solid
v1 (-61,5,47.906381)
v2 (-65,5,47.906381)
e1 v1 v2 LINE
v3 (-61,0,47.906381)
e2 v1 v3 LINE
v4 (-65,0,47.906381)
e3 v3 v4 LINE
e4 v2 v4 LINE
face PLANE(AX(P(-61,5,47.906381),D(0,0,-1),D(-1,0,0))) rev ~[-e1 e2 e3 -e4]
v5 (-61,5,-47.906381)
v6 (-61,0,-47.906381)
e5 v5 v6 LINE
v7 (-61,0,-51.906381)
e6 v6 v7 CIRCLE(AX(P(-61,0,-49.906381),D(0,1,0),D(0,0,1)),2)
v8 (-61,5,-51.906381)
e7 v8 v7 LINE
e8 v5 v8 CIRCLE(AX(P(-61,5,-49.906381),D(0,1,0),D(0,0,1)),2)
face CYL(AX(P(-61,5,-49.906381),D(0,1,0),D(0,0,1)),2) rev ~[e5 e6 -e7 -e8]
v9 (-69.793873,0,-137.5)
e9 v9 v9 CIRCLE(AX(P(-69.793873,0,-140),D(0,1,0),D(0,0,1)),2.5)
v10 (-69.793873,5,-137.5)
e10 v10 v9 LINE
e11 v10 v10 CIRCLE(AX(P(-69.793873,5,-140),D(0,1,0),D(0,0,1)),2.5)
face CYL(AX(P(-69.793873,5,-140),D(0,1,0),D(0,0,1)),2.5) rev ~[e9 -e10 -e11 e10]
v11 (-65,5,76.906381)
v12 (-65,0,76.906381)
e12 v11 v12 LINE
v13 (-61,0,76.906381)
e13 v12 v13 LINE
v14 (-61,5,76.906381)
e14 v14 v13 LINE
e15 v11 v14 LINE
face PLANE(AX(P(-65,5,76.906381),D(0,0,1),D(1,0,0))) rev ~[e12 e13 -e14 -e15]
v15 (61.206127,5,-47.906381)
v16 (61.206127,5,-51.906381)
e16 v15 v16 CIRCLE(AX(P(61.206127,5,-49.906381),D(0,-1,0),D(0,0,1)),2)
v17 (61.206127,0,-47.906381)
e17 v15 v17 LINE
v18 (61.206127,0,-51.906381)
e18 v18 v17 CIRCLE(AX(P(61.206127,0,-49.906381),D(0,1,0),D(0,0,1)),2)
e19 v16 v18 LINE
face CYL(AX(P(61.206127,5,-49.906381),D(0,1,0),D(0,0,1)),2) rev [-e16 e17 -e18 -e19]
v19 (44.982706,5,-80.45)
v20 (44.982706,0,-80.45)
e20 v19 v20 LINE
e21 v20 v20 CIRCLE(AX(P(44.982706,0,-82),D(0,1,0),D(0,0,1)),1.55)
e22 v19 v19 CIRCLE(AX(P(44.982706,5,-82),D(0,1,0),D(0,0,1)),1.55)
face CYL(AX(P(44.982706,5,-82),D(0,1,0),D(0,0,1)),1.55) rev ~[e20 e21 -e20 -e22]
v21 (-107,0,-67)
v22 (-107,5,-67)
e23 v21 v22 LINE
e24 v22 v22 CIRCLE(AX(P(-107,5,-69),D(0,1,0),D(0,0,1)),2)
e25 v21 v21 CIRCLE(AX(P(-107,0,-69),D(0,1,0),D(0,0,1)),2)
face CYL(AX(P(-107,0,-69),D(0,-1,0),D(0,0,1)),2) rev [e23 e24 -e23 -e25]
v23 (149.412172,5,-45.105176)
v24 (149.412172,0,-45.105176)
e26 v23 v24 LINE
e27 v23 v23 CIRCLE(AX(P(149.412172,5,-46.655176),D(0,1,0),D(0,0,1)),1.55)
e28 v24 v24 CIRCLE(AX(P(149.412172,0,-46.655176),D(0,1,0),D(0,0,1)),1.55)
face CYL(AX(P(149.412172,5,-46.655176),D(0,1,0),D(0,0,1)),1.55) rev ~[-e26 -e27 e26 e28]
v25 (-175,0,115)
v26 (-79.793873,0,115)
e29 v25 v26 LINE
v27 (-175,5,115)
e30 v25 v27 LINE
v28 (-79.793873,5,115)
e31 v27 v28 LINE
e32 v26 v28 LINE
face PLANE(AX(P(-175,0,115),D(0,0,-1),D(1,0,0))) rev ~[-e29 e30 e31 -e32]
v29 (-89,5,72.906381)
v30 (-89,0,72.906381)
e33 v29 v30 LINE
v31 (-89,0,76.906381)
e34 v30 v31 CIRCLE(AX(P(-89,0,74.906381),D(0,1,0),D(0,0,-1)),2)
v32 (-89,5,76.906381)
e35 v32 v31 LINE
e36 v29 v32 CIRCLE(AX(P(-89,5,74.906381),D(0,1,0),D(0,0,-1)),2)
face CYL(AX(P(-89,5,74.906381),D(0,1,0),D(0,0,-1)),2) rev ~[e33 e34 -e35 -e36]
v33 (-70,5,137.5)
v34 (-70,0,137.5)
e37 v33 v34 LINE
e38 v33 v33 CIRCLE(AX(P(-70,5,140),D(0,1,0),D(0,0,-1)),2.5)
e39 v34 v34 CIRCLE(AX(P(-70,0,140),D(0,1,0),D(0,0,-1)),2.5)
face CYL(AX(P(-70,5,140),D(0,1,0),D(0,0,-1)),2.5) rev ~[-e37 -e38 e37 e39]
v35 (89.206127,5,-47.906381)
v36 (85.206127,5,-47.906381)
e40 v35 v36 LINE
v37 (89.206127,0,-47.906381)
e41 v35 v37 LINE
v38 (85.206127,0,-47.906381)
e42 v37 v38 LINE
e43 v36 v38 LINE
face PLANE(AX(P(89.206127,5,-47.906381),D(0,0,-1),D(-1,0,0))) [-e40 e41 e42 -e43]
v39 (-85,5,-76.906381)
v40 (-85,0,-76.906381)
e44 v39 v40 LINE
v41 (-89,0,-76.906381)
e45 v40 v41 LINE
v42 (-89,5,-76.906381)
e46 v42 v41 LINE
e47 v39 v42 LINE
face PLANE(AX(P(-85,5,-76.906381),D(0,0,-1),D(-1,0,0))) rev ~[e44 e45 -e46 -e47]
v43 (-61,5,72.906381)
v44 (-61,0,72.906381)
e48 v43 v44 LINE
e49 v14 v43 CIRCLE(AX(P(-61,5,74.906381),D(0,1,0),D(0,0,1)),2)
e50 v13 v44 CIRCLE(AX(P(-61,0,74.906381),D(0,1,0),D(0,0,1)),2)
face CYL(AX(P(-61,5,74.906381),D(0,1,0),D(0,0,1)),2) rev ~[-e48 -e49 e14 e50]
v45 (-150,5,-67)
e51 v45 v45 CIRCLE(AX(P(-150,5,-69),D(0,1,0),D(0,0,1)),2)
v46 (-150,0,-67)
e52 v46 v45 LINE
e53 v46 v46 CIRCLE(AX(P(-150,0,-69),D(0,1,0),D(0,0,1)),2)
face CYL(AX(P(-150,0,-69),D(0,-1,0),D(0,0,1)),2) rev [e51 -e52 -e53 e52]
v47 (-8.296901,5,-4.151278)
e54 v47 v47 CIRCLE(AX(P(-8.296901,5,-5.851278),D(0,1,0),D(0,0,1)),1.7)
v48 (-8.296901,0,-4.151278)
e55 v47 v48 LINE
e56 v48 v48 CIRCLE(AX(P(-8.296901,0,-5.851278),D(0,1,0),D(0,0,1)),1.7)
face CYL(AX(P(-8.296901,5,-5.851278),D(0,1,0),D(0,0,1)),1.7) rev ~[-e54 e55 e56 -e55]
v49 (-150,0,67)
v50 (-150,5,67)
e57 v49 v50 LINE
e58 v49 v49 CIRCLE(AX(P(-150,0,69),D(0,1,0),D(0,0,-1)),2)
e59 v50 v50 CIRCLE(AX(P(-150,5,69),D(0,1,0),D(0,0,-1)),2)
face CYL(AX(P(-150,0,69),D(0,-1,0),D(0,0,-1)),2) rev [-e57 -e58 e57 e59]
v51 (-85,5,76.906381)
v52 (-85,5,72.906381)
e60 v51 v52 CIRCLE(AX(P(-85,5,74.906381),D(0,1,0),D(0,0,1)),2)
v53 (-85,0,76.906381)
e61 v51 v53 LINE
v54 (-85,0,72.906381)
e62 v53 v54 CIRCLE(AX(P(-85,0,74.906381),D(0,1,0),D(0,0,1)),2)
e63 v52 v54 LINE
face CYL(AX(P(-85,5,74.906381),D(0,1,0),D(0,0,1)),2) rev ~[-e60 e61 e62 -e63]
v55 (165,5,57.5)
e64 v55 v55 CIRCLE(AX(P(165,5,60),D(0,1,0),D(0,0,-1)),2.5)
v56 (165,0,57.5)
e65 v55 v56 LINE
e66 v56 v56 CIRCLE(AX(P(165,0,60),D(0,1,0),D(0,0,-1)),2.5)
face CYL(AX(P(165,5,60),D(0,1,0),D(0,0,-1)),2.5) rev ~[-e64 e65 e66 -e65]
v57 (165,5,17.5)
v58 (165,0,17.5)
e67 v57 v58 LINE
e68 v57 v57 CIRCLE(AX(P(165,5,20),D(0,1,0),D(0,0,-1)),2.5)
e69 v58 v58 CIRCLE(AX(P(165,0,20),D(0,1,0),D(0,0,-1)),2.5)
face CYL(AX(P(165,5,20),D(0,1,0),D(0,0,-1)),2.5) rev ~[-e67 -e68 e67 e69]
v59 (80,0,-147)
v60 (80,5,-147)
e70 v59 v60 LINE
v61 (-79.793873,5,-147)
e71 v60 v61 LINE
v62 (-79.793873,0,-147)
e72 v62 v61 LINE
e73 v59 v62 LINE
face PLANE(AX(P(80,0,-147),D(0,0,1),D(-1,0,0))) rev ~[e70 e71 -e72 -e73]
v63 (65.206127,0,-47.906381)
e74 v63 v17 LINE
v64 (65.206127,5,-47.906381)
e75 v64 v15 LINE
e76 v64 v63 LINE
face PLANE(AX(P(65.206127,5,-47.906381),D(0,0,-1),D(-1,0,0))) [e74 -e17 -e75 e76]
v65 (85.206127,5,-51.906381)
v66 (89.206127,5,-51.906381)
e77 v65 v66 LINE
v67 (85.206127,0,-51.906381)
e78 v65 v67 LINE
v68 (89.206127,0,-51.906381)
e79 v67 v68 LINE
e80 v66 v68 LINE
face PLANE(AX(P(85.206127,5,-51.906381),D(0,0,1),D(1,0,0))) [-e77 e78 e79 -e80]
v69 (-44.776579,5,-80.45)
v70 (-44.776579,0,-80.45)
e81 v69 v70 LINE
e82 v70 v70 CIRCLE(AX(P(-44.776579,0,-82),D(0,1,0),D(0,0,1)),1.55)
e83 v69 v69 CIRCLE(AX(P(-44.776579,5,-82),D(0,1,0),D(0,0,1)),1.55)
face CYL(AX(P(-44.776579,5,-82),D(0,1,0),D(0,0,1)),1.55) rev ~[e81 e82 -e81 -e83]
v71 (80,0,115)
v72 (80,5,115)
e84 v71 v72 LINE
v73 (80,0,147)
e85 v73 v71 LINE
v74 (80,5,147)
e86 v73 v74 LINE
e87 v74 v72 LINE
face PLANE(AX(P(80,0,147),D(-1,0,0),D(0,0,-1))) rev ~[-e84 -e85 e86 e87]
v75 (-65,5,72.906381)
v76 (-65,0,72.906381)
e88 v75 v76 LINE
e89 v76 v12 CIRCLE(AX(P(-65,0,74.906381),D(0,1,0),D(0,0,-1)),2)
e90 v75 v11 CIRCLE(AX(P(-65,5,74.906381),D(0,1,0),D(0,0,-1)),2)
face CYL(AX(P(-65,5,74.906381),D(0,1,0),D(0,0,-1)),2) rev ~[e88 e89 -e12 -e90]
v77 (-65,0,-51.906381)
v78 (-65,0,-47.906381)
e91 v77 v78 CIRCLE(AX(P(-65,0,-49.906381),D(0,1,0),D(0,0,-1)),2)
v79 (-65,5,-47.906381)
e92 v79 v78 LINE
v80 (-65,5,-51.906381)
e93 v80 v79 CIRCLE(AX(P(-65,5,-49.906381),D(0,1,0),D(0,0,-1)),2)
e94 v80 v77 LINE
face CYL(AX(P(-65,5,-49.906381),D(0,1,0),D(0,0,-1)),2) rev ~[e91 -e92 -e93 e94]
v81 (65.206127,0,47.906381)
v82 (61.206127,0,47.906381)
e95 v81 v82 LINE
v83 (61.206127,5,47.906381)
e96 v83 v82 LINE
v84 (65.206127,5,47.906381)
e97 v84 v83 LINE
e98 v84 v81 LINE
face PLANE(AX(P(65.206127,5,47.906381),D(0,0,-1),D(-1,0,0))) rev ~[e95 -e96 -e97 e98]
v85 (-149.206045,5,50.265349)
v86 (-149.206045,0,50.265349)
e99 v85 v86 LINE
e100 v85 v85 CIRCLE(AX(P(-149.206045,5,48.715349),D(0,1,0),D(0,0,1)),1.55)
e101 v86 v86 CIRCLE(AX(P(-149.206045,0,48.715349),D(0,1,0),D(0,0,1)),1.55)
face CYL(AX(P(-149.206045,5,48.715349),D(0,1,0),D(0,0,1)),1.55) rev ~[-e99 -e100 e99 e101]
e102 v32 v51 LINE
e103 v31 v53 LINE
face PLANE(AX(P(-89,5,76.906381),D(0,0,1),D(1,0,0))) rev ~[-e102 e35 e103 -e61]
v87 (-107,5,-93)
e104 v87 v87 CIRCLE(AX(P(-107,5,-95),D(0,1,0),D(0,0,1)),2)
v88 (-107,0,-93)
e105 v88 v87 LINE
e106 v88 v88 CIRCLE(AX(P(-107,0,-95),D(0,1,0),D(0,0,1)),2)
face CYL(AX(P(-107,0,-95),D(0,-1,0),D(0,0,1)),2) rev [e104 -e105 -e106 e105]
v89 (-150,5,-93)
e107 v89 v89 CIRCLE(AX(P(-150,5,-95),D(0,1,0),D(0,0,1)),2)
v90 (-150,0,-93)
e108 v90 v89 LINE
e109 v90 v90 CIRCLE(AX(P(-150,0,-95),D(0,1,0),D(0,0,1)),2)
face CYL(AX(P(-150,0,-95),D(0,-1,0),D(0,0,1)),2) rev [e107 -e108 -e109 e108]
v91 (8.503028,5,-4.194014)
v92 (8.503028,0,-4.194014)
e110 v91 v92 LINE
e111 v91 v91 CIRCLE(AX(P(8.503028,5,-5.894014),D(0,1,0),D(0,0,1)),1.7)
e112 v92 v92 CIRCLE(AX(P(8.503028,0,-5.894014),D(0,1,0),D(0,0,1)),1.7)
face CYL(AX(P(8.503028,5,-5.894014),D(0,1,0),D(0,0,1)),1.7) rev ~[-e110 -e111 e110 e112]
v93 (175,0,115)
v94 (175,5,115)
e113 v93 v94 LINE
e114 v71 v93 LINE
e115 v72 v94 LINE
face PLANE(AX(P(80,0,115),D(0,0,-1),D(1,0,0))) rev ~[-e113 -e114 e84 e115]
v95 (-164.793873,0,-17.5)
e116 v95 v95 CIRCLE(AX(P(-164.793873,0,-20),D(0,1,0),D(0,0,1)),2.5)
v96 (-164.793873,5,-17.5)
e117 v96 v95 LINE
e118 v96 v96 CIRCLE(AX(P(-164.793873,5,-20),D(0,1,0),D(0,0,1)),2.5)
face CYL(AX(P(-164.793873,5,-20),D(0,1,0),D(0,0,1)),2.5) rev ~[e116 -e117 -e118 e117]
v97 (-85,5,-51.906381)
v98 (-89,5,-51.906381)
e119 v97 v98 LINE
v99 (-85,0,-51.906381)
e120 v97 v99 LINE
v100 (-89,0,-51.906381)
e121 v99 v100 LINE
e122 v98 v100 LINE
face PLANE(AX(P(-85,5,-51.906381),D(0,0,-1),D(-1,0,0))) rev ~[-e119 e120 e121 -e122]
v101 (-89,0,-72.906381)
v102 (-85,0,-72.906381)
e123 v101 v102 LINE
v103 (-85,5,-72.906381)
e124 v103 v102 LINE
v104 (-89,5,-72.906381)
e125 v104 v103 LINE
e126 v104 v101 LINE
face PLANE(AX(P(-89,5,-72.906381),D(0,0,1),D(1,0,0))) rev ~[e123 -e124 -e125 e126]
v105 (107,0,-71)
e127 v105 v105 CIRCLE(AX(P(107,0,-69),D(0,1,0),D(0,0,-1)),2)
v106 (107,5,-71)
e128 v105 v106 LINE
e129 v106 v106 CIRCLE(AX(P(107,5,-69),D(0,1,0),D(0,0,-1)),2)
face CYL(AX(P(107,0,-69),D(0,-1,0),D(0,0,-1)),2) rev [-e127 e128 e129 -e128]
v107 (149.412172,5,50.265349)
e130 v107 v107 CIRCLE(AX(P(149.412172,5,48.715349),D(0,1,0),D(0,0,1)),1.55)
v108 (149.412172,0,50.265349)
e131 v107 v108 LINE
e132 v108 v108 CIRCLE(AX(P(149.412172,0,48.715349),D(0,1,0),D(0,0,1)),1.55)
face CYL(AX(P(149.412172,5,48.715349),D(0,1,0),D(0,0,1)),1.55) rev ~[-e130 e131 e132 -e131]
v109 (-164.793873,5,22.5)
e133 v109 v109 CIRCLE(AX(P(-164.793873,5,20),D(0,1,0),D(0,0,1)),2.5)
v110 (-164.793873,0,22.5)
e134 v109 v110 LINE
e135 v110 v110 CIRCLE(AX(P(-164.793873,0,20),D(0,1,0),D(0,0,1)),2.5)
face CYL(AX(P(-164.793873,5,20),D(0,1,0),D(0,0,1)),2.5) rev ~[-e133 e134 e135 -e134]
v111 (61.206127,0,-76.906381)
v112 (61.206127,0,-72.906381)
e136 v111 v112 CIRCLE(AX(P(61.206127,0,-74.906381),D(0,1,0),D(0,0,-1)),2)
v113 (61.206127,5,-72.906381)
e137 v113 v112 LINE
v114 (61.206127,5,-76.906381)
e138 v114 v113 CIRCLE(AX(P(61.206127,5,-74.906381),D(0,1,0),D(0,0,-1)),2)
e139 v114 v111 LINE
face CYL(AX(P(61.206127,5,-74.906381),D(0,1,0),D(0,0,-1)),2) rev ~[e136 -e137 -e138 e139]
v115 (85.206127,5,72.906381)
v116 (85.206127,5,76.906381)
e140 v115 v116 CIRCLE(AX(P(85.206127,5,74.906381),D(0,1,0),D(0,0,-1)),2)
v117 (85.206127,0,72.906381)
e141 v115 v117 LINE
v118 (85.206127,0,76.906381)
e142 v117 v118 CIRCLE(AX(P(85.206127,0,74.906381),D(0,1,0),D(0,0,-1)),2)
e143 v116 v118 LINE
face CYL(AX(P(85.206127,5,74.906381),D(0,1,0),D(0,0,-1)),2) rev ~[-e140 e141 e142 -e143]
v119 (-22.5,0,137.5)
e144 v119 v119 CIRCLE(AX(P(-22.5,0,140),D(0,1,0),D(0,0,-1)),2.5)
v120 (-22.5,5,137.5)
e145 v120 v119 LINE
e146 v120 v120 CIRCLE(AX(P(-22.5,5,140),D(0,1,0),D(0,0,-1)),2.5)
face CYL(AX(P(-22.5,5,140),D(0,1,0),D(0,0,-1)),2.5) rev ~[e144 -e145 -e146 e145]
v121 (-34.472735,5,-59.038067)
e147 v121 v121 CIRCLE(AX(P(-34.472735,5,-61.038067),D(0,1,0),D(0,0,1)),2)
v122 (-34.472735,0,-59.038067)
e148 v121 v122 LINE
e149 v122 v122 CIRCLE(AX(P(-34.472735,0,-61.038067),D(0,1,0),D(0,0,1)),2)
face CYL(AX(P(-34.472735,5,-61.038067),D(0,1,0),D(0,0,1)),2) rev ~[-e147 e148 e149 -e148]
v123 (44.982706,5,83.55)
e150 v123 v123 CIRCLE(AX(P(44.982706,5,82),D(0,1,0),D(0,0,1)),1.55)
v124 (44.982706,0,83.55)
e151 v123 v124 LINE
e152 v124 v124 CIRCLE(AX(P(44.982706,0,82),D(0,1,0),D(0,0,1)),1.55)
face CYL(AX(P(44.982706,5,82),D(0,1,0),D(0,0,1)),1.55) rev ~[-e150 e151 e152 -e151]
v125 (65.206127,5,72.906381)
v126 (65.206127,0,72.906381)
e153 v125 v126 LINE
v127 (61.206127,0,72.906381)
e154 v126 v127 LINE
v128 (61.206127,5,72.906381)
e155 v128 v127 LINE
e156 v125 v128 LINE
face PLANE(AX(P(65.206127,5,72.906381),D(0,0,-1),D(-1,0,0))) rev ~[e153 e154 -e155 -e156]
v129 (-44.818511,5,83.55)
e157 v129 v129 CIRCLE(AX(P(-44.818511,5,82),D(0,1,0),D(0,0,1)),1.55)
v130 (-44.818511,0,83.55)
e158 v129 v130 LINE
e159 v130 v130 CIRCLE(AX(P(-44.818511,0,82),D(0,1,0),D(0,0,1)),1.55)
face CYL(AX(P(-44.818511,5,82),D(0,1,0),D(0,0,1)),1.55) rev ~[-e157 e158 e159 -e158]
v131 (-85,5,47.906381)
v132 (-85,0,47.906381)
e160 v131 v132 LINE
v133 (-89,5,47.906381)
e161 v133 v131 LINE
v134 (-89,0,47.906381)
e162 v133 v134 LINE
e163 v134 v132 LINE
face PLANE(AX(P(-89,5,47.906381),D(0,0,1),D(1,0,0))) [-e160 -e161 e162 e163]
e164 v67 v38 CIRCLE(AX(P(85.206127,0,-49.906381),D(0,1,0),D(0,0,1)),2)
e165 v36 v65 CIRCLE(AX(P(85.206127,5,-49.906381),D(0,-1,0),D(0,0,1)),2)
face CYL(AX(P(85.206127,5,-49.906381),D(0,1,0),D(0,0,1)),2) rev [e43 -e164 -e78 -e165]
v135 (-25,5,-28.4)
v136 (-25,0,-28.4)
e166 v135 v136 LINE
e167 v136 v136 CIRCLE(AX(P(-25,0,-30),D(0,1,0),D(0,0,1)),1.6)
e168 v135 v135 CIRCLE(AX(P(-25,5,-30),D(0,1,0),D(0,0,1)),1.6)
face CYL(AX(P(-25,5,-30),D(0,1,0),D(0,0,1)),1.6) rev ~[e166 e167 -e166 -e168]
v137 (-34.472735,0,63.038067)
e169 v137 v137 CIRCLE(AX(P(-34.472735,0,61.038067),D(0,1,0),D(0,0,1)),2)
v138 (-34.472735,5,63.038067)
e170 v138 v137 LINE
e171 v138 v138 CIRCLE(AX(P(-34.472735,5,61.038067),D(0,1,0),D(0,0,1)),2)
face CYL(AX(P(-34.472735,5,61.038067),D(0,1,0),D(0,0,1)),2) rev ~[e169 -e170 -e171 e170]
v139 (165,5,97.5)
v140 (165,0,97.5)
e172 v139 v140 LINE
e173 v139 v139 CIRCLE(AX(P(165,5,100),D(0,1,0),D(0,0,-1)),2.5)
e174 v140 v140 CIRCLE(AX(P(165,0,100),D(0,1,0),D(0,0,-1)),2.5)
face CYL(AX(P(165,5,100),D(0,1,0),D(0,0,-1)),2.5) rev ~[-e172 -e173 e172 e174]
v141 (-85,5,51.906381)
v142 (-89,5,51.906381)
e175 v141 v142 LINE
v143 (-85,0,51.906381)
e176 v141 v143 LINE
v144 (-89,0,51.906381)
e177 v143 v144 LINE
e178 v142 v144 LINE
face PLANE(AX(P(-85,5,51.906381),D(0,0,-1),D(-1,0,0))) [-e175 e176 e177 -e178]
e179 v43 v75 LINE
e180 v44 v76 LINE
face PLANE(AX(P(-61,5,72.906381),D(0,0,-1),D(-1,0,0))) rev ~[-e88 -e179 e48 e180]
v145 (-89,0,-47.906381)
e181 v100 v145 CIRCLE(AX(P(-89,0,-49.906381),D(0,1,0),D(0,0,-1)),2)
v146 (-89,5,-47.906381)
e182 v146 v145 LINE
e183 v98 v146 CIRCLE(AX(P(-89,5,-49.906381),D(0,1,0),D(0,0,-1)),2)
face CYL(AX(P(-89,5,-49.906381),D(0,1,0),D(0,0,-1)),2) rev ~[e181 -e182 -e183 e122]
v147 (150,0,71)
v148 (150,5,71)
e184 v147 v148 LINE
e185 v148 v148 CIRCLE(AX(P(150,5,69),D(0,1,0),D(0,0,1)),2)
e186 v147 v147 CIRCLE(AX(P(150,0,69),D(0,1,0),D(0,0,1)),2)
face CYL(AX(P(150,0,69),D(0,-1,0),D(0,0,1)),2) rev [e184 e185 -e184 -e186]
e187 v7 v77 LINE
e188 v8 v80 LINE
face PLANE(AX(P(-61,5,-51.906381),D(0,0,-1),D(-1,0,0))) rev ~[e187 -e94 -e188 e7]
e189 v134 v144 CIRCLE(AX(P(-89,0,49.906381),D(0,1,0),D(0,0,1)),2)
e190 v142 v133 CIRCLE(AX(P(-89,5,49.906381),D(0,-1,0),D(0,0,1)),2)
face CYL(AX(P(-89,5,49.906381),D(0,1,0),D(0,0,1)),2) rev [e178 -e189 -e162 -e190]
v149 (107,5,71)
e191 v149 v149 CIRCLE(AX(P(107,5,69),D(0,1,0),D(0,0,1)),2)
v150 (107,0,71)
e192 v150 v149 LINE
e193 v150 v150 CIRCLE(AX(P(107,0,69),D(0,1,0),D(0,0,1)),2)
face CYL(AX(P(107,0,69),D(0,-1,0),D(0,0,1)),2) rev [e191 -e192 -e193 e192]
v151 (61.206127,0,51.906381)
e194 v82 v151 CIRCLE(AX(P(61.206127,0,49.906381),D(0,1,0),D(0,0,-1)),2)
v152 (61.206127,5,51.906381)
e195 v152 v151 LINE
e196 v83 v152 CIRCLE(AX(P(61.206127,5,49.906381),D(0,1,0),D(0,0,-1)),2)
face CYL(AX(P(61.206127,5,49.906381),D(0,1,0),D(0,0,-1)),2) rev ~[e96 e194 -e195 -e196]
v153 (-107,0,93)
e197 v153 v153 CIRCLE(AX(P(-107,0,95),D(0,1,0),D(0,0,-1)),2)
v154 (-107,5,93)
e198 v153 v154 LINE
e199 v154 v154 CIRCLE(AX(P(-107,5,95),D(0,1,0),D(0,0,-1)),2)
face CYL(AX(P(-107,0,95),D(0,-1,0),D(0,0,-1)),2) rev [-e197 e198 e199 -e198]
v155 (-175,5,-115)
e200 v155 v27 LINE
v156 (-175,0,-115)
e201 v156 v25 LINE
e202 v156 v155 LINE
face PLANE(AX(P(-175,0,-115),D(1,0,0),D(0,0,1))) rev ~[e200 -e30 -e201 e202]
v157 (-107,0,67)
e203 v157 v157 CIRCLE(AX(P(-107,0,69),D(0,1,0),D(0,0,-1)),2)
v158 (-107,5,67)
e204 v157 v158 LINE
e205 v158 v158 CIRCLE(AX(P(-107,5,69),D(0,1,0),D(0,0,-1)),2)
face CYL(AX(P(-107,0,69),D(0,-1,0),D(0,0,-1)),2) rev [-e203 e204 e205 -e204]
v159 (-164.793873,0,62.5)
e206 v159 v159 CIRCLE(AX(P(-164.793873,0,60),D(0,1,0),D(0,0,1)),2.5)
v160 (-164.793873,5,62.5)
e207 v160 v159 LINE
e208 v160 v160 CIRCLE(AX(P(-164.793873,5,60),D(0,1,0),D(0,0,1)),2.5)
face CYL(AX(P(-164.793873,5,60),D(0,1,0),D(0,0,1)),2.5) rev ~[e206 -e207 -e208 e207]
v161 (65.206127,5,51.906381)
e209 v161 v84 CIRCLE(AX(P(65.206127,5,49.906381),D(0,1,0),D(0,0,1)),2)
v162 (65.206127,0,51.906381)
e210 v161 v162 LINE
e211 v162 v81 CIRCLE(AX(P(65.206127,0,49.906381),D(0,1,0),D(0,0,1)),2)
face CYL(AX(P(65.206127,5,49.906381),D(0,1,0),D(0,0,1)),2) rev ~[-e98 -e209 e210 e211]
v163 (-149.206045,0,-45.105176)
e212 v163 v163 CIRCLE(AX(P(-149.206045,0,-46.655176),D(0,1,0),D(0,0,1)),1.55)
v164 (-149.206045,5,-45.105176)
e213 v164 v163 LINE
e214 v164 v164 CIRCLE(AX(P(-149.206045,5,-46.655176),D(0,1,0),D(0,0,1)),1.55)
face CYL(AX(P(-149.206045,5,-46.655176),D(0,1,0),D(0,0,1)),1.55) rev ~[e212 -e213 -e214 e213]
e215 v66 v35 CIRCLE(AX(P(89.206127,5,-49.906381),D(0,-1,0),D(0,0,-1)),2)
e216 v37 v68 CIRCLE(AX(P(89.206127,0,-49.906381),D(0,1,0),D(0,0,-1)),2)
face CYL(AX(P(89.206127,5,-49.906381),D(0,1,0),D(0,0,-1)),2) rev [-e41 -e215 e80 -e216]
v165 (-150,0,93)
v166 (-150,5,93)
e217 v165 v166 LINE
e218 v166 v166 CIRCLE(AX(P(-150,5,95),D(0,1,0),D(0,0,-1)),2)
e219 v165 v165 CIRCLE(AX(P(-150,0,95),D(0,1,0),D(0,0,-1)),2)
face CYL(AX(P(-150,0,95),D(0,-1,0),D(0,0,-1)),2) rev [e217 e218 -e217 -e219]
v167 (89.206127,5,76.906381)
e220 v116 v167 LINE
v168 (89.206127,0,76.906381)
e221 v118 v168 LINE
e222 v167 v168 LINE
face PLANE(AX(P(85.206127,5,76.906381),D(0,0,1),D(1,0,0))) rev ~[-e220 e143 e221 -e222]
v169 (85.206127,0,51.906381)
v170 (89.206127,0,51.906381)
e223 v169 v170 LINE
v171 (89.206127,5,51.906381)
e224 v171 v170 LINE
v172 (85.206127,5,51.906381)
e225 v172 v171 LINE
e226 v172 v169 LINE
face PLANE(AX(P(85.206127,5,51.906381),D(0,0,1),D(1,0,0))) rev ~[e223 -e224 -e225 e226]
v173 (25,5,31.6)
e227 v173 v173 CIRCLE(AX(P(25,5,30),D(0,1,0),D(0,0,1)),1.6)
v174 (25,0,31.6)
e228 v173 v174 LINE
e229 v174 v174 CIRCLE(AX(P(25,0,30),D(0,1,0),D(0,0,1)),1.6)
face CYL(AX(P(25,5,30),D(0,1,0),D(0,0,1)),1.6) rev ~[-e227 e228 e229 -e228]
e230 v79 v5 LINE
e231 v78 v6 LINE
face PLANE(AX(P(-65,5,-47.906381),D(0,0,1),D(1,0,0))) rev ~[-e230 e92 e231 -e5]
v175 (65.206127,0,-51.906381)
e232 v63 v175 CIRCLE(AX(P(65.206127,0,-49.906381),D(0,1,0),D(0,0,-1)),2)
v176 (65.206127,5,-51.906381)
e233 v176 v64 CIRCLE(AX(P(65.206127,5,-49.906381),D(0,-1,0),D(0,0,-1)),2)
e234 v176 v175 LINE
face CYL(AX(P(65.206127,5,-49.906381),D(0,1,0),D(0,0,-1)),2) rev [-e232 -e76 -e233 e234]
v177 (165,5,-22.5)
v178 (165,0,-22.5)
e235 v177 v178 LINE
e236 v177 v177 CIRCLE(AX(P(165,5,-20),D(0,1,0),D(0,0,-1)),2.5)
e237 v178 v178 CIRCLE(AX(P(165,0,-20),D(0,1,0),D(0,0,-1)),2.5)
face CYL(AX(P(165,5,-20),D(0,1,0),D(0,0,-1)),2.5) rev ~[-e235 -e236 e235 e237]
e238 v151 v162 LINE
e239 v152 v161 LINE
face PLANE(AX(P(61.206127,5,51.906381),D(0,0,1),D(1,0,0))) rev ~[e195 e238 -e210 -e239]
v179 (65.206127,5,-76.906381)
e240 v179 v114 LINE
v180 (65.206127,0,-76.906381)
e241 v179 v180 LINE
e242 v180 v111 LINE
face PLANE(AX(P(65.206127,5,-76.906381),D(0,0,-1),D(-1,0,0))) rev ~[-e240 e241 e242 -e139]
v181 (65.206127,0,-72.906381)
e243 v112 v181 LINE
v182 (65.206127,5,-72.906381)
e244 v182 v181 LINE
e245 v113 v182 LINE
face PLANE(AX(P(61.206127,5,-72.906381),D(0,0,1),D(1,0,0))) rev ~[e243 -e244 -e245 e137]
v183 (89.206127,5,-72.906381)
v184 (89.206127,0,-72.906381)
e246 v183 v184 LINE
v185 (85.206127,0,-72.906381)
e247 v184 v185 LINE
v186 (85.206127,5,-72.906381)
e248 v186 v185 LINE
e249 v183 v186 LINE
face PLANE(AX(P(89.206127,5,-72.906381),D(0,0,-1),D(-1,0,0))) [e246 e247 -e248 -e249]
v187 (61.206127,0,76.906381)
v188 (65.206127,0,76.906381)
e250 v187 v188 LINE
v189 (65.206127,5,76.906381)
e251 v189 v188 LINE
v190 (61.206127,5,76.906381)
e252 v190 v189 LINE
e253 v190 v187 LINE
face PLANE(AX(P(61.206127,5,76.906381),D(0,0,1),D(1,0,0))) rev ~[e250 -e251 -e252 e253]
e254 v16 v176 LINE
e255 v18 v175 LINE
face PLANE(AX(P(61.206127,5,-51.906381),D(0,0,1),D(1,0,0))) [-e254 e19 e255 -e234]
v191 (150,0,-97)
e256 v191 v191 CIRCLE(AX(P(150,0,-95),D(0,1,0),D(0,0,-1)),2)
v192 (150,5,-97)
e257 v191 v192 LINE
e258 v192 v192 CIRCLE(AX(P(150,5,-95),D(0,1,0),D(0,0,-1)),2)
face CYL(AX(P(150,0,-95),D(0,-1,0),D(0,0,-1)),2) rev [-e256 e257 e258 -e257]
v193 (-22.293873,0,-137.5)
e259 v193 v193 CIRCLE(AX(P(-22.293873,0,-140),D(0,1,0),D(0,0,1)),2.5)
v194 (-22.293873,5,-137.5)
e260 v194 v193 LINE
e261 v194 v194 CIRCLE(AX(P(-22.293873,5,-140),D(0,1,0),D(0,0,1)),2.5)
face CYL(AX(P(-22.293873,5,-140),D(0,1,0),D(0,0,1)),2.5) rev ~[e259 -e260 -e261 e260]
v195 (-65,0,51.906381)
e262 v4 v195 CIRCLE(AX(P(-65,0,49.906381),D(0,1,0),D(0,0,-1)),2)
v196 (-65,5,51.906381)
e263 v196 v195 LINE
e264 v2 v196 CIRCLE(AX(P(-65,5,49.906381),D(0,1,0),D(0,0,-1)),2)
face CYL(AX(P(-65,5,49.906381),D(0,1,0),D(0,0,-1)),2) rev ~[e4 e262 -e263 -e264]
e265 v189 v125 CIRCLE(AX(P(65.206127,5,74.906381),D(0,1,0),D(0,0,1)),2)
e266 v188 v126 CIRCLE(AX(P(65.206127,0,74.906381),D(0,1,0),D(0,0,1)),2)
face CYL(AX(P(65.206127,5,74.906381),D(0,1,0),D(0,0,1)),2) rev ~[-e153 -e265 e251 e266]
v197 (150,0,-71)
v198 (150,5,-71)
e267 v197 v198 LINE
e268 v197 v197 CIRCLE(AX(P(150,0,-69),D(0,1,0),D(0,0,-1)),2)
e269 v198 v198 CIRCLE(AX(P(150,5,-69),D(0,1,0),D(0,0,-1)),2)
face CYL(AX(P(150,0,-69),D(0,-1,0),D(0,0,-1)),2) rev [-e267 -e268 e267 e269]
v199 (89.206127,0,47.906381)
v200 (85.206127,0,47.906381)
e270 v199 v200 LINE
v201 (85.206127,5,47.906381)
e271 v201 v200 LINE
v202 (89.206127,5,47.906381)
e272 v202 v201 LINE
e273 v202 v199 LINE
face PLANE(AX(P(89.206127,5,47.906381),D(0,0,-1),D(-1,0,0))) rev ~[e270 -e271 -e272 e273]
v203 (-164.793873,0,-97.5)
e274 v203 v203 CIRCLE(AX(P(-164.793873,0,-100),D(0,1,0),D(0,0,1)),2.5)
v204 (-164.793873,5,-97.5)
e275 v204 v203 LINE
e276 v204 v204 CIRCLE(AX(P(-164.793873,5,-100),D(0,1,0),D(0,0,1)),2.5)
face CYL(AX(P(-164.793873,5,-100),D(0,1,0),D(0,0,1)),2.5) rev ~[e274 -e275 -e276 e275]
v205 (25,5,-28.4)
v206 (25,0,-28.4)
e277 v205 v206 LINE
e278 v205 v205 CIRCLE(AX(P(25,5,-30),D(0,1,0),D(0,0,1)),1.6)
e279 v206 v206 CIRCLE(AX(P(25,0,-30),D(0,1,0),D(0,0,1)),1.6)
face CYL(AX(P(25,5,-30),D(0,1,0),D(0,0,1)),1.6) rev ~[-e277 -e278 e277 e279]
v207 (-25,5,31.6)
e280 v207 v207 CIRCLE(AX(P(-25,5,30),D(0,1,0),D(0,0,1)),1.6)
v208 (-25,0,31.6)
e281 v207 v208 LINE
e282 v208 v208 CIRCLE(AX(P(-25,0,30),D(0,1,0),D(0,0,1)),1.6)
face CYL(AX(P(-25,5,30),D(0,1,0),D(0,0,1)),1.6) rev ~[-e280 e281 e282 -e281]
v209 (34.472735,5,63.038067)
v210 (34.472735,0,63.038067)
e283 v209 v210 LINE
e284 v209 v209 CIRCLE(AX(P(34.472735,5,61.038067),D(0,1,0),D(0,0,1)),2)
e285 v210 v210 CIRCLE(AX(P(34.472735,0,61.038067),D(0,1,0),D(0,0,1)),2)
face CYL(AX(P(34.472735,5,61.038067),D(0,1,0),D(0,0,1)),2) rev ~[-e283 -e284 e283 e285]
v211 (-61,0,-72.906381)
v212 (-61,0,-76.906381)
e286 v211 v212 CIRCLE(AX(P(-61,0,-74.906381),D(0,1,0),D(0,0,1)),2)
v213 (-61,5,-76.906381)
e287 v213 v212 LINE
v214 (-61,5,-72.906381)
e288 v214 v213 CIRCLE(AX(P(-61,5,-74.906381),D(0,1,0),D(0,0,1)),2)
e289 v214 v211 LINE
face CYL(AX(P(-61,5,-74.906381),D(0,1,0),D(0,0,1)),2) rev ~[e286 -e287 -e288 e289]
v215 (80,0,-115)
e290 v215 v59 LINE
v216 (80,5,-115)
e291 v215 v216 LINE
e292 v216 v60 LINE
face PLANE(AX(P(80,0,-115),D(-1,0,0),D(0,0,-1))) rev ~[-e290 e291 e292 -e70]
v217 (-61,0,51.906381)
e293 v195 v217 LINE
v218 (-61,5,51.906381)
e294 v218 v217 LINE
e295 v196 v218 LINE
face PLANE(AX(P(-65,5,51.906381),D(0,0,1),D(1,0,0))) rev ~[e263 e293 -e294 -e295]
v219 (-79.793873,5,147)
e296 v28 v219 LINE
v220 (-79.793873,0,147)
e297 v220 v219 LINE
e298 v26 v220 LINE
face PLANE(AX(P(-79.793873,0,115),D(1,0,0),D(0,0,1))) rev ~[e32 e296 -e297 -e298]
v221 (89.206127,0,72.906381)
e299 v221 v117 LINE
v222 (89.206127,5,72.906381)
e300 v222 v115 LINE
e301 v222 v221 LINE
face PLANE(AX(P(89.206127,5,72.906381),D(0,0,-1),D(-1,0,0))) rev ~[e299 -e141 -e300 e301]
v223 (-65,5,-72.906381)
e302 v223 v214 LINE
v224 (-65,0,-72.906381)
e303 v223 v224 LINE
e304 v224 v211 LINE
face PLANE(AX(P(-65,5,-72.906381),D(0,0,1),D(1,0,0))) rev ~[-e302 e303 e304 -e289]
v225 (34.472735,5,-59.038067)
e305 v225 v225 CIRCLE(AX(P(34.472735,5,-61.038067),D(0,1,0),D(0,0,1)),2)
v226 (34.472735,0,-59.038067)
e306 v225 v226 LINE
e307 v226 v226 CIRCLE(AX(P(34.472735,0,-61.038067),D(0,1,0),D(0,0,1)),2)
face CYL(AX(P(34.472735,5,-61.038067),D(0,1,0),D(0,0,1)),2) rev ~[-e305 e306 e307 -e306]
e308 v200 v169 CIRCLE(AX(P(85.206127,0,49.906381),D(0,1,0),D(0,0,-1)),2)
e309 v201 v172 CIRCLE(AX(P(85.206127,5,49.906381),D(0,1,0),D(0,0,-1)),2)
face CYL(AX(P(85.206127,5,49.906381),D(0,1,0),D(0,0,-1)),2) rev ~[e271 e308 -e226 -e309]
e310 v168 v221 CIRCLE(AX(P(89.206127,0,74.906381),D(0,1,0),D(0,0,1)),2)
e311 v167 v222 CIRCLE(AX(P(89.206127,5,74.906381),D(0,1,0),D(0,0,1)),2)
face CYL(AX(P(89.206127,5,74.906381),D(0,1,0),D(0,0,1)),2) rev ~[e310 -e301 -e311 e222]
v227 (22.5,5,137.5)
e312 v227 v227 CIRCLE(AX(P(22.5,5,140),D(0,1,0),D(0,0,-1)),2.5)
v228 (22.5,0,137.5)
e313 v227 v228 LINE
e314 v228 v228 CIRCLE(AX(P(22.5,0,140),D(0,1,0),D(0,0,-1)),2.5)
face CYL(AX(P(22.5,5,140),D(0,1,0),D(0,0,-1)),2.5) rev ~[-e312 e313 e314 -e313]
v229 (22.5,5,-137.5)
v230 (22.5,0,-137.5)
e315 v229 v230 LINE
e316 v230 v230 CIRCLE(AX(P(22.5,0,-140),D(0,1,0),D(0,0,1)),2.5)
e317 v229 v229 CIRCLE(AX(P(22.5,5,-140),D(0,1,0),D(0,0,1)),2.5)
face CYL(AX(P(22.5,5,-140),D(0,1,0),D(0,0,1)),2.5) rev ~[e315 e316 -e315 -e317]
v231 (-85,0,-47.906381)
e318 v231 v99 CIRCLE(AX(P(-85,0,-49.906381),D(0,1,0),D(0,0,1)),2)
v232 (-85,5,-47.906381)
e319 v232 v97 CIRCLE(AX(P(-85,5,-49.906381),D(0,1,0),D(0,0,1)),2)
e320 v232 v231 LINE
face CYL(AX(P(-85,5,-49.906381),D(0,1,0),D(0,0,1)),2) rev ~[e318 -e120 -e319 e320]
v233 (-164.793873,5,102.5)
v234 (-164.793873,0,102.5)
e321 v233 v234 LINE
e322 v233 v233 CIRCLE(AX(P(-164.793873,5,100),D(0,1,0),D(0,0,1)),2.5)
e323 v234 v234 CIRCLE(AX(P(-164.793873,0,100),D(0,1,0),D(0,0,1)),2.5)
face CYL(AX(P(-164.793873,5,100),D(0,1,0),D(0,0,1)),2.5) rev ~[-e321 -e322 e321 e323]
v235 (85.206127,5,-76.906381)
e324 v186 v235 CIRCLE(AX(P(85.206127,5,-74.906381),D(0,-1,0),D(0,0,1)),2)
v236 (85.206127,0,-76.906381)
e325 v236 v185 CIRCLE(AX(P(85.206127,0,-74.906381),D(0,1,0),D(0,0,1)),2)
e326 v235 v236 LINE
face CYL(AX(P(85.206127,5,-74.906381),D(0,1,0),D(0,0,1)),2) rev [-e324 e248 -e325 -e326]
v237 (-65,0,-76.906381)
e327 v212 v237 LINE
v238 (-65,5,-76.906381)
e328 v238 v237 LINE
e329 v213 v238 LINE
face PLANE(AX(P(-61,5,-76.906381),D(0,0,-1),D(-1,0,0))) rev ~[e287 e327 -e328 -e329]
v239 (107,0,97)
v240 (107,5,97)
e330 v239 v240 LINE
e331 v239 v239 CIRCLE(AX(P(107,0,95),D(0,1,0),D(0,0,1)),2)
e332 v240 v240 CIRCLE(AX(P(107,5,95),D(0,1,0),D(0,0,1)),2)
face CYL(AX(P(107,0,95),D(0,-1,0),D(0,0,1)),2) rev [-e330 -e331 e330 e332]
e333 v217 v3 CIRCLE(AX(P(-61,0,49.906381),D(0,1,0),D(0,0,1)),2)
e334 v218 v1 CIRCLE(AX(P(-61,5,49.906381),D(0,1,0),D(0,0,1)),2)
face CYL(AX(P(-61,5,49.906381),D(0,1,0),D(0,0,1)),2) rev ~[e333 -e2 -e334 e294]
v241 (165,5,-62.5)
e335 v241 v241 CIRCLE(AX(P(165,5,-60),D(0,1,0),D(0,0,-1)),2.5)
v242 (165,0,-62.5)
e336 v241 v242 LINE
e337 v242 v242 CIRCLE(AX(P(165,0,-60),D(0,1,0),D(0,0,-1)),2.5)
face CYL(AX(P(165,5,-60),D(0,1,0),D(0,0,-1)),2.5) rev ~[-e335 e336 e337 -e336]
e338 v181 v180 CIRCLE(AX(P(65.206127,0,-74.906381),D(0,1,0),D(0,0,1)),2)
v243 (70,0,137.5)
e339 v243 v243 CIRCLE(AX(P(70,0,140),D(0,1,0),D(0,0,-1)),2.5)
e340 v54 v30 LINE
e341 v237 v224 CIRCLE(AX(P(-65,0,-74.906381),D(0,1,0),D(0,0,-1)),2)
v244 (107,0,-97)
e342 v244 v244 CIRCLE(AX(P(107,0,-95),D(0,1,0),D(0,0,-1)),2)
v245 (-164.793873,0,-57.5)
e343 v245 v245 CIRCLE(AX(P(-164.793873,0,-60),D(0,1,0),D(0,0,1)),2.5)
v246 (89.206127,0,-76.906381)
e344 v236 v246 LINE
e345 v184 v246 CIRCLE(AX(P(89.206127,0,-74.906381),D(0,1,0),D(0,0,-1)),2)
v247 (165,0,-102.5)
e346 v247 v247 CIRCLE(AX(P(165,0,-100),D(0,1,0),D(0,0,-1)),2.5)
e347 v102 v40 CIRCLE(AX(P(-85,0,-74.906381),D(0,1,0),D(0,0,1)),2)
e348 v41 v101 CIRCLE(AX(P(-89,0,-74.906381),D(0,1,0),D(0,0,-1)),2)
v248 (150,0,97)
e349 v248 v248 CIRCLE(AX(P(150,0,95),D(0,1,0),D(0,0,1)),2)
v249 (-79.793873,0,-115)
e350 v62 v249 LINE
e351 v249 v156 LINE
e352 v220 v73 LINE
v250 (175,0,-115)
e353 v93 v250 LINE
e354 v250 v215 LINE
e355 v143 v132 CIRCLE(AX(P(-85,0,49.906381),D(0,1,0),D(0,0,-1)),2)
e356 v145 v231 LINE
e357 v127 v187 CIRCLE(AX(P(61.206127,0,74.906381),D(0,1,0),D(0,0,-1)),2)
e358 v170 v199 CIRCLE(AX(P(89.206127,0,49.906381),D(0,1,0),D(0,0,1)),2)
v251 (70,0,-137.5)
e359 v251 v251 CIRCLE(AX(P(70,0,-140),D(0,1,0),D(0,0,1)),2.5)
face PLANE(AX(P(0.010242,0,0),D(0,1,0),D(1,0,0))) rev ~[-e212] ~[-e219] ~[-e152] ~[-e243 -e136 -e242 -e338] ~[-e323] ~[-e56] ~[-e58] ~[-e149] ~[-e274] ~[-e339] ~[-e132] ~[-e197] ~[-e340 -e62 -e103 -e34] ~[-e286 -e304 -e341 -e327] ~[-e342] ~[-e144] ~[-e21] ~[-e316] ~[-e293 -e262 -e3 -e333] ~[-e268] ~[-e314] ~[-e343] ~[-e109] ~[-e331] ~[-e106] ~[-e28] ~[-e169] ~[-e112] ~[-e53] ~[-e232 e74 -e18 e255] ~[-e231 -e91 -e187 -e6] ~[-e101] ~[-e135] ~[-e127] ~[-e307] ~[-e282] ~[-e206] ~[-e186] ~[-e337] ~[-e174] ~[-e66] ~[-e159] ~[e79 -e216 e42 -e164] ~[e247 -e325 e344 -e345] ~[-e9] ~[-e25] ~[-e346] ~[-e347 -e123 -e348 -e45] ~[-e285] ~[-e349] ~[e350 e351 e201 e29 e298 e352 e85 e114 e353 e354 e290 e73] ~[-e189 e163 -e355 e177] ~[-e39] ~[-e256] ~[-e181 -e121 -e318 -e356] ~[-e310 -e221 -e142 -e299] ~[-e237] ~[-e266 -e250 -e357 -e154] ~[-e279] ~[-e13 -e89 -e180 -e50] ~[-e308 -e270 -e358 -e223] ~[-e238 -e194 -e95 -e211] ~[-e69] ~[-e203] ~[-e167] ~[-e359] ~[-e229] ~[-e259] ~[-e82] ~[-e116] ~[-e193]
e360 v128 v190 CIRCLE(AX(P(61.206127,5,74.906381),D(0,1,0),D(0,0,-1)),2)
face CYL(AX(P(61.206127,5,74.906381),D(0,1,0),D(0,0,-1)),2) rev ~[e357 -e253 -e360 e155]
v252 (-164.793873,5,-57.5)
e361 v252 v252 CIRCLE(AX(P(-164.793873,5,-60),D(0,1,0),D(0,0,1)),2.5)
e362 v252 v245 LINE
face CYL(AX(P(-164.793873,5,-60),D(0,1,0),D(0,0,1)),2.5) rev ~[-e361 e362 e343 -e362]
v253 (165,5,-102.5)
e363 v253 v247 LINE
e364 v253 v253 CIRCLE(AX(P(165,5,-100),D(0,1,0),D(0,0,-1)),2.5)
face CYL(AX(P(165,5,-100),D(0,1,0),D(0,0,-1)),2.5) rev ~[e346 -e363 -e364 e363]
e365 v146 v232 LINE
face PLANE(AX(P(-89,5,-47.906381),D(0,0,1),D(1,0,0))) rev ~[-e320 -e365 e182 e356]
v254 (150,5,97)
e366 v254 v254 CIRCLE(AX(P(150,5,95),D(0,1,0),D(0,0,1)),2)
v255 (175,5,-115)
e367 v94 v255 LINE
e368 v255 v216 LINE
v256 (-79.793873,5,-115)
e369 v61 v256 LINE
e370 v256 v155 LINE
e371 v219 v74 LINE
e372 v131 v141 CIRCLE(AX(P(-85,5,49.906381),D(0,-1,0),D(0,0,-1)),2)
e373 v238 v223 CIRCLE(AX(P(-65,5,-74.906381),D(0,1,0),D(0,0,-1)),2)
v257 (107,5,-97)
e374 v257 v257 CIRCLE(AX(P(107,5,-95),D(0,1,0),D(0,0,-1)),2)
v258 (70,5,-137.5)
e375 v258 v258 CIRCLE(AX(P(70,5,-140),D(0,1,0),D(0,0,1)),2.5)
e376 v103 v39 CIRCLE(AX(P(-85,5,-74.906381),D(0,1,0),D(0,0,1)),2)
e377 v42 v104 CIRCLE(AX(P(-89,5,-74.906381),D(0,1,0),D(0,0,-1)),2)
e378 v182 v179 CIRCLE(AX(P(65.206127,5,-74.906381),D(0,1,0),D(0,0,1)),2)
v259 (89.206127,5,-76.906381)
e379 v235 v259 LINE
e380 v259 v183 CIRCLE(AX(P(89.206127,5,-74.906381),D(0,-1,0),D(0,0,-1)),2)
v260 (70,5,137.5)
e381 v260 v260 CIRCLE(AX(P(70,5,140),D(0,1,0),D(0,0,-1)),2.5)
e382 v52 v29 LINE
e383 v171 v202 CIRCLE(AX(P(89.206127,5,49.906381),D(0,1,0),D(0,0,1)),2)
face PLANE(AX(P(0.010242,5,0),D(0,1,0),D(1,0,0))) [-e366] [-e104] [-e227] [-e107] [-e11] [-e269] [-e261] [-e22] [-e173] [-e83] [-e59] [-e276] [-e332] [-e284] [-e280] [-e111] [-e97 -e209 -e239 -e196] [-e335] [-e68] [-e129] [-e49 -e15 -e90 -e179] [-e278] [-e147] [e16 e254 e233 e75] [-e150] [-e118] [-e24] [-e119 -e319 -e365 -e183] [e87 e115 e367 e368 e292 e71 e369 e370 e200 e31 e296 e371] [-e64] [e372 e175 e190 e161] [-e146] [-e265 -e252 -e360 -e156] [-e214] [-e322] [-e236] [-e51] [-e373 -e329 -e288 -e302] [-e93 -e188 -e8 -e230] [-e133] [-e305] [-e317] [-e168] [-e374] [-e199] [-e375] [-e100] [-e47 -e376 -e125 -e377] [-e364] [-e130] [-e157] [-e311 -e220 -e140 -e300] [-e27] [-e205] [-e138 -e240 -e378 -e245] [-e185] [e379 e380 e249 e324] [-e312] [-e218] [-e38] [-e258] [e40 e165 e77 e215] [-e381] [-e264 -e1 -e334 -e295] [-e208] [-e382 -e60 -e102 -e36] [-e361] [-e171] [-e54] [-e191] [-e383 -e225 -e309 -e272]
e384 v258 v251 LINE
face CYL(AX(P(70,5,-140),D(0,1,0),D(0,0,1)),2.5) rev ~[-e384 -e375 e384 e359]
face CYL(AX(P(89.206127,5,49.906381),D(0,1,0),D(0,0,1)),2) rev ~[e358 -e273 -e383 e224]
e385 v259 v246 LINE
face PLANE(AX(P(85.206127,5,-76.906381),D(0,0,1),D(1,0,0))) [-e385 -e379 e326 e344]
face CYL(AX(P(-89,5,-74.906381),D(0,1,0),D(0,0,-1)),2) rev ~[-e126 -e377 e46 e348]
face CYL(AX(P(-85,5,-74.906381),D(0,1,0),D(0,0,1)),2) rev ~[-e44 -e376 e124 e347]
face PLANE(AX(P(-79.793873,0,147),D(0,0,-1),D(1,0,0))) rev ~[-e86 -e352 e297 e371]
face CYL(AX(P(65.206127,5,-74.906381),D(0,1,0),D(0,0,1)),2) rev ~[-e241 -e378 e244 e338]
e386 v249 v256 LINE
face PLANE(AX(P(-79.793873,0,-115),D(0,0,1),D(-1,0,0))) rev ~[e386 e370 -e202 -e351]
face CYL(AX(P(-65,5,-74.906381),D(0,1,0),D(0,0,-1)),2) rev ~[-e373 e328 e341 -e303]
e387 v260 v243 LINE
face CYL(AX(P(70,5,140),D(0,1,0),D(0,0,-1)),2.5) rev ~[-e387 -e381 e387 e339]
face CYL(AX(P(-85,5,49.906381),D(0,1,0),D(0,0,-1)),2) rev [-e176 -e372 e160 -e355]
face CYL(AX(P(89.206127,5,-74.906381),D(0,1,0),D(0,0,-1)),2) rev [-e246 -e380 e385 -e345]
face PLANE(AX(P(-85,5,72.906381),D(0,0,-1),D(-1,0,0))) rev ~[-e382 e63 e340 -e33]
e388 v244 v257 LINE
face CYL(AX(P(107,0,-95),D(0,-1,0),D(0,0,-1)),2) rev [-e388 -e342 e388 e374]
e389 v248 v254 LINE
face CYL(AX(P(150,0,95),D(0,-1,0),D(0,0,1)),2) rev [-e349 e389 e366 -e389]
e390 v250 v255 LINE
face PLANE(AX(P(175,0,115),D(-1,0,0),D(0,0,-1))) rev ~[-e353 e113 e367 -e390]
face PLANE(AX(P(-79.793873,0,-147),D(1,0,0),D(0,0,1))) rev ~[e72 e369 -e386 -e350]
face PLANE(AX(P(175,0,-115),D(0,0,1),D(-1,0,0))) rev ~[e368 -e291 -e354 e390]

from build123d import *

# Parameters (mm, degrees)
SKETCH1_R           = 2
BOSS_EXTRUDE1_DEPTH = 5
SKETCH2_R           = 2.5
CUT_EXTRUDE2_DEPTH  = 5
CUT_EXTRUDE3_DEPTH  = 10
SKETCH4_R           = 1.7
CUT_EXTRUDE4_DEPTH  = 10
SKETCH5_R           = 1.55
CUT_EXTRUDE5_DEPTH  = 10
SKETCH6_R           = 2
CUT_EXTRUDE6_DEPTH  = 15
SKETCH7_R           = 1.6
CUT_EXTRUDE7_DEPTH  = 10


with BuildPart() as part:
    # Sketch1 → Boss-Extrude1 (new body)
    with BuildSketch(Plane(origin=(0, 0, 0), x_dir=(1, 0, 0), z_dir=(0, 1, 0))):
        Polygon((-175, 115), (-175, -115), (-79.793873465, -115), (-79.793873465, -147), (80, -147), (80, -115), (175, -115), (175, 115), (80, 115), (80, 147), (-79.793873465, 147), (-79.793873465, 115), align=None)
        with Locations((-150, 95)):
            Circle(SKETCH1_R, mode=Mode.SUBTRACT)
        with Locations((-107, 95)):
            Circle(SKETCH1_R, mode=Mode.SUBTRACT)
        with Locations((-150, 69)):
            Circle(SKETCH1_R, mode=Mode.SUBTRACT)
        with Locations((-107, 69)):
            Circle(SKETCH1_R, mode=Mode.SUBTRACT)
        with Locations((-107, -95)):
            Circle(SKETCH1_R, mode=Mode.SUBTRACT)
        with Locations((-150, -95)):
            Circle(SKETCH1_R, mode=Mode.SUBTRACT)
        with Locations((-150, -69)):
            Circle(SKETCH1_R, mode=Mode.SUBTRACT)
        with Locations((-107, -69)):
            Circle(SKETCH1_R, mode=Mode.SUBTRACT)
        with Locations((107, -69)):
            Circle(SKETCH1_R, mode=Mode.SUBTRACT)
        with Locations((150, -69)):
            Circle(SKETCH1_R, mode=Mode.SUBTRACT)
        with Locations((150, -95)):
            Circle(SKETCH1_R, mode=Mode.SUBTRACT)
        with Locations((107, -95)):
            Circle(SKETCH1_R, mode=Mode.SUBTRACT)
        with Locations((107, 69)):
            Circle(SKETCH1_R, mode=Mode.SUBTRACT)
        with Locations((150, 69)):
            Circle(SKETCH1_R, mode=Mode.SUBTRACT)
        with Locations((107, 95)):
            Circle(SKETCH1_R, mode=Mode.SUBTRACT)
        with Locations((150, 95)):
            Circle(SKETCH1_R, mode=Mode.SUBTRACT)
    extrude(amount=BOSS_EXTRUDE1_DEPTH)

    # Sketch2 → Cut-Extrude2 (cut)
    with BuildSketch(Plane(origin=(0, 5, 0), x_dir=(1, 0, 0), z_dir=(0, 1, 0))):
        with Locations((-69.793873465, 140)):
            Circle(SKETCH2_R)
        with Locations((-22.293873465, 140)):
            Circle(SKETCH2_R)
        with Locations((22.5, 140)):
            Circle(SKETCH2_R)
        with Locations((70, 140)):
            Circle(SKETCH2_R)
        with Locations((165, 100)):
            Circle(SKETCH2_R)
        with Locations((70, -140)):
            Circle(SKETCH2_R)
        with Locations((22.5, -140)):
            Circle(SKETCH2_R)
        with Locations((-22.5, -140)):
            Circle(SKETCH2_R)
        with Locations((-70, -140)):
            Circle(SKETCH2_R)
        with Locations((165, 60)):
            Circle(SKETCH2_R)
        with Locations((165, 20)):
            Circle(SKETCH2_R)
        with Locations((165, -20)):
            Circle(SKETCH2_R)
        with Locations((165, -60)):
            Circle(SKETCH2_R)
        with Locations((165, -100)):
            Circle(SKETCH2_R)
        with Locations((-164.793873465, -100)):
            Circle(SKETCH2_R)
        with Locations((-164.793873465, -60)):
            Circle(SKETCH2_R)
        with Locations((-164.793873465, -20)):
            Circle(SKETCH2_R)
        with Locations((-164.793873465, 20)):
            Circle(SKETCH2_R)
        with Locations((-164.793873465, 60)):
            Circle(SKETCH2_R)
        with Locations((-164.793873465, 100)):
            Circle(SKETCH2_R)
    extrude(amount=-CUT_EXTRUDE2_DEPTH, mode=Mode.SUBTRACT)

    # Sketch3 → Cut-Extrude3 (cut)
    with BuildSketch(Plane(origin=(0, 5, 0), x_dir=(1, 0, 0), z_dir=(0, 1, 0))):
        with BuildLine():
            Line((-85, 51.906381215), (-89, 51.906381215))
            ThreePointArc((-89, 51.906381215), (-91, 49.906381215), (-89, 47.906381215))
            Line((-89, 47.906381215), (-85, 47.906381215))
            ThreePointArc((-85, 47.906381215), (-83, 49.906381215), (-85, 51.906381215))
        make_face()
        with BuildLine():
            Line((61.206126535, 51.906381215), (65.206126535, 51.906381215))
            ThreePointArc((65.206126535, 51.906381215), (67.206126535, 49.906381215), (65.206126535, 47.906381215))
            Line((65.206126535, 47.906381215), (61.206126535, 47.906381215))
            ThreePointArc((61.206126535, 47.906381215), (59.206126535, 49.906381215), (61.206126535, 51.906381215))
        make_face()
        with BuildLine():
            Line((-61, 51.906381215), (-65, 51.906381215))
            ThreePointArc((-65, 51.906381215), (-67, 49.906381215), (-65, 47.906381215))
            Line((-65, 47.906381215), (-61, 47.906381215))
            ThreePointArc((-61, 47.906381215), (-59, 49.906381215), (-61, 51.906381215))
        make_face()
        with BuildLine():
            Line((-61, 76.906381215), (-65, 76.906381215))
            ThreePointArc((-65, 76.906381215), (-67, 74.906381215), (-65, 72.906381215))
            Line((-65, 72.906381215), (-61, 72.906381215))
            ThreePointArc((-61, 72.906381215), (-59, 74.906381215), (-61, 76.906381215))
        make_face()
        with BuildLine():
            Line((-85, 76.906381215), (-89, 76.906381215))
            ThreePointArc((-89, 76.906381215), (-91, 74.906381215), (-89, 72.906381215))
            Line((-89, 72.906381215), (-85, 72.906381215))
            ThreePointArc((-85, 72.906381215), (-83, 74.906381215), (-85, 76.906381215))
        make_face()
        with BuildLine():
            Line((85.206126535, 51.906381215), (89.206126535, 51.906381215))
            ThreePointArc((89.206126535, 51.906381215), (91.206126535, 49.906381215), (89.206126535, 47.906381215))
            Line((89.206126535, 47.906381215), (85.206126535, 47.906381215))
            ThreePointArc((85.206126535, 47.906381215), (83.206126535, 49.906381215), (85.206126535, 51.906381215))
        make_face()
        with BuildLine():
            Line((85.206126535, 76.906381215), (89.206126535, 76.906381215))
            ThreePointArc((89.206126535, 76.906381215), (91.206126535, 74.906381215), (89.206126535, 72.906381215))
            Line((89.206126535, 72.906381215), (85.206126535, 72.906381215))
            ThreePointArc((85.206126535, 72.906381215), (83.206126535, 74.906381215), (85.206126535, 76.906381215))
        make_face()
        with BuildLine():
            Line((65.206126535, 76.906381215), (61.206126535, 76.906381215))
            ThreePointArc((61.206126535, 76.906381215), (59.206126535, 74.906381215), (61.206126535, 72.906381215))
            Line((61.206126535, 72.906381215), (65.206126535, 72.906381215))
            ThreePointArc((65.206126535, 72.906381215), (67.206126535, 74.906381215), (65.206126535, 76.906381215))
        make_face()
        with BuildLine():
            Line((65.206126535, -72.906381215), (61.206126535, -72.906381215))
            ThreePointArc((61.206126535, -72.906381215), (59.206126535, -74.906381215), (61.206126535, -76.906381215))
            Line((61.206126535, -76.906381215), (65.206126535, -76.906381215))
            ThreePointArc((65.206126535, -76.906381215), (67.206126535, -74.906381215), (65.206126535, -72.906381215))
        make_face()
        with BuildLine():
            Line((89.206126535, -72.906381215), (85.206126535, -72.906381215))
            ThreePointArc((85.206126535, -72.906381215), (83.206126535, -74.906381215), (85.206126535, -76.906381215))
            Line((85.206126535, -76.906381215), (89.206126535, -76.906381215))
            ThreePointArc((89.206126535, -76.906381215), (91.206126535, -74.906381215), (89.206126535, -72.906381215))
        make_face()
        with BuildLine():
            Line((89.206126535, -47.906381215), (85.206126535, -47.906381215))
            ThreePointArc((85.206126535, -47.906381215), (83.206126535, -49.906381215), (85.206126535, -51.906381215))
            Line((85.206126535, -51.906381215), (89.206126535, -51.906381215))
            ThreePointArc((89.206126535, -51.906381215), (91.206126535, -49.906381215), (89.206126535, -47.906381215))
        make_face()
        with BuildLine():
            Line((65.206126535, -47.906381215), (61.206126535, -47.906381215))
            ThreePointArc((61.206126535, -47.906381215), (59.206126535, -49.906381215), (61.206126535, -51.906381215))
            Line((61.206126535, -51.906381215), (65.206126535, -51.906381215))
            ThreePointArc((65.206126535, -51.906381215), (67.206126535, -49.906381215), (65.206126535, -47.906381215))
        make_face()
        with BuildLine():
            Line((-85, -72.906381215), (-89, -72.906381215))
            ThreePointArc((-89, -72.906381215), (-91, -74.906381215), (-89, -76.906381215))
            Line((-89, -76.906381215), (-85, -76.906381215))
            ThreePointArc((-85, -76.906381215), (-83, -74.906381215), (-85, -72.906381215))
        make_face()
        with BuildLine():
            Line((-61, -72.906381215), (-65, -72.906381215))
            ThreePointArc((-65, -72.906381215), (-67, -74.906381215), (-65, -76.906381215))
            Line((-65, -76.906381215), (-61, -76.906381215))
            ThreePointArc((-61, -76.906381215), (-59, -74.906381215), (-61, -72.906381215))
        make_face()
        with BuildLine():
            Line((-61, -47.906381215), (-65, -47.906381215))
            ThreePointArc((-65, -47.906381215), (-67, -49.906381215), (-65, -51.906381215))
            Line((-65, -51.906381215), (-61, -51.906381215))
            ThreePointArc((-61, -51.906381215), (-59, -49.906381215), (-61, -47.906381215))
        make_face()
        with BuildLine():
            Line((-89, -47.906381215), (-85, -47.906381215))
            ThreePointArc((-85, -47.906381215), (-83, -49.906381215), (-85, -51.906381215))
            Line((-85, -51.906381215), (-89, -51.906381215))
            ThreePointArc((-89, -51.906381215), (-91, -49.906381215), (-89, -47.906381215))
        make_face()
    extrude(amount=-CUT_EXTRUDE3_DEPTH, mode=Mode.SUBTRACT)

    # Sketch4 → Cut-Extrude4 (cut)
    with BuildSketch(Plane(origin=(0, 5, 0), x_dir=(1, 0, 0), z_dir=(0, 1, 0))):
        with Locations((8.503027721, 5.894014336)):
            Circle(SKETCH4_R)
        with Locations((-8.296901185, 5.851277759)):
            Circle(SKETCH4_R)
    extrude(amount=-CUT_EXTRUDE4_DEPTH, mode=Mode.SUBTRACT)

    # Sketch5 → Cut-Extrude5 (cut)
    with BuildSketch(Plane(origin=(0, 5, 0), x_dir=(1, 0, 0), z_dir=(0, 1, 0))):
        with Locations((-149.206045272, 46.655175813)):
            Circle(SKETCH5_R)
        with Locations((-149.206045272, -48.715348759)):
            Circle(SKETCH5_R)
        with Locations((-44.81851091, -82)):
            Circle(SKETCH5_R)
        with Locations((-44.776579052, 82)):
            Circle(SKETCH5_R)
        with Locations((44.982705587, 82)):
            Circle(SKETCH5_R)
        with Locations((149.412171807, 46.655175813)):
            Circle(SKETCH5_R)
        with Locations((149.412171807, -48.715348759)):
            Circle(SKETCH5_R)
        with Locations((44.982705587, -82)):
            Circle(SKETCH5_R)
    extrude(amount=-CUT_EXTRUDE5_DEPTH, mode=Mode.SUBTRACT)

    # Sketch6 → Cut-Extrude6 (cut)
    with BuildSketch(Plane(origin=(0, 5, 0), x_dir=(1, 0, 0), z_dir=(0, 1, 0))):
        with Locations((-34.472735038, 61.03806688)):
            Circle(SKETCH6_R)
        with Locations((34.472735038, 61.03806688)):
            Circle(SKETCH6_R)
        with Locations((34.472735038, -61.03806688)):
            Circle(SKETCH6_R)
        with Locations((-34.472735038, -61.03806688)):
            Circle(SKETCH6_R)
    extrude(amount=-CUT_EXTRUDE6_DEPTH, mode=Mode.SUBTRACT)

    # Sketch7 → Cut-Extrude7 (cut)
    with BuildSketch(Plane(origin=(0, 5, 0), x_dir=(1, 0, 0), z_dir=(0, 1, 0))):
        with Locations((-25, 30)):
            Circle(SKETCH7_R)
        with Locations((25, 30)):
            Circle(SKETCH7_R)
        with Locations((25, -30)):
            Circle(SKETCH7_R)
        with Locations((-25, -30)):
            Circle(SKETCH7_R)
    extrude(amount=-CUT_EXTRUDE7_DEPTH, mode=Mode.SUBTRACT)


solid = part.part
